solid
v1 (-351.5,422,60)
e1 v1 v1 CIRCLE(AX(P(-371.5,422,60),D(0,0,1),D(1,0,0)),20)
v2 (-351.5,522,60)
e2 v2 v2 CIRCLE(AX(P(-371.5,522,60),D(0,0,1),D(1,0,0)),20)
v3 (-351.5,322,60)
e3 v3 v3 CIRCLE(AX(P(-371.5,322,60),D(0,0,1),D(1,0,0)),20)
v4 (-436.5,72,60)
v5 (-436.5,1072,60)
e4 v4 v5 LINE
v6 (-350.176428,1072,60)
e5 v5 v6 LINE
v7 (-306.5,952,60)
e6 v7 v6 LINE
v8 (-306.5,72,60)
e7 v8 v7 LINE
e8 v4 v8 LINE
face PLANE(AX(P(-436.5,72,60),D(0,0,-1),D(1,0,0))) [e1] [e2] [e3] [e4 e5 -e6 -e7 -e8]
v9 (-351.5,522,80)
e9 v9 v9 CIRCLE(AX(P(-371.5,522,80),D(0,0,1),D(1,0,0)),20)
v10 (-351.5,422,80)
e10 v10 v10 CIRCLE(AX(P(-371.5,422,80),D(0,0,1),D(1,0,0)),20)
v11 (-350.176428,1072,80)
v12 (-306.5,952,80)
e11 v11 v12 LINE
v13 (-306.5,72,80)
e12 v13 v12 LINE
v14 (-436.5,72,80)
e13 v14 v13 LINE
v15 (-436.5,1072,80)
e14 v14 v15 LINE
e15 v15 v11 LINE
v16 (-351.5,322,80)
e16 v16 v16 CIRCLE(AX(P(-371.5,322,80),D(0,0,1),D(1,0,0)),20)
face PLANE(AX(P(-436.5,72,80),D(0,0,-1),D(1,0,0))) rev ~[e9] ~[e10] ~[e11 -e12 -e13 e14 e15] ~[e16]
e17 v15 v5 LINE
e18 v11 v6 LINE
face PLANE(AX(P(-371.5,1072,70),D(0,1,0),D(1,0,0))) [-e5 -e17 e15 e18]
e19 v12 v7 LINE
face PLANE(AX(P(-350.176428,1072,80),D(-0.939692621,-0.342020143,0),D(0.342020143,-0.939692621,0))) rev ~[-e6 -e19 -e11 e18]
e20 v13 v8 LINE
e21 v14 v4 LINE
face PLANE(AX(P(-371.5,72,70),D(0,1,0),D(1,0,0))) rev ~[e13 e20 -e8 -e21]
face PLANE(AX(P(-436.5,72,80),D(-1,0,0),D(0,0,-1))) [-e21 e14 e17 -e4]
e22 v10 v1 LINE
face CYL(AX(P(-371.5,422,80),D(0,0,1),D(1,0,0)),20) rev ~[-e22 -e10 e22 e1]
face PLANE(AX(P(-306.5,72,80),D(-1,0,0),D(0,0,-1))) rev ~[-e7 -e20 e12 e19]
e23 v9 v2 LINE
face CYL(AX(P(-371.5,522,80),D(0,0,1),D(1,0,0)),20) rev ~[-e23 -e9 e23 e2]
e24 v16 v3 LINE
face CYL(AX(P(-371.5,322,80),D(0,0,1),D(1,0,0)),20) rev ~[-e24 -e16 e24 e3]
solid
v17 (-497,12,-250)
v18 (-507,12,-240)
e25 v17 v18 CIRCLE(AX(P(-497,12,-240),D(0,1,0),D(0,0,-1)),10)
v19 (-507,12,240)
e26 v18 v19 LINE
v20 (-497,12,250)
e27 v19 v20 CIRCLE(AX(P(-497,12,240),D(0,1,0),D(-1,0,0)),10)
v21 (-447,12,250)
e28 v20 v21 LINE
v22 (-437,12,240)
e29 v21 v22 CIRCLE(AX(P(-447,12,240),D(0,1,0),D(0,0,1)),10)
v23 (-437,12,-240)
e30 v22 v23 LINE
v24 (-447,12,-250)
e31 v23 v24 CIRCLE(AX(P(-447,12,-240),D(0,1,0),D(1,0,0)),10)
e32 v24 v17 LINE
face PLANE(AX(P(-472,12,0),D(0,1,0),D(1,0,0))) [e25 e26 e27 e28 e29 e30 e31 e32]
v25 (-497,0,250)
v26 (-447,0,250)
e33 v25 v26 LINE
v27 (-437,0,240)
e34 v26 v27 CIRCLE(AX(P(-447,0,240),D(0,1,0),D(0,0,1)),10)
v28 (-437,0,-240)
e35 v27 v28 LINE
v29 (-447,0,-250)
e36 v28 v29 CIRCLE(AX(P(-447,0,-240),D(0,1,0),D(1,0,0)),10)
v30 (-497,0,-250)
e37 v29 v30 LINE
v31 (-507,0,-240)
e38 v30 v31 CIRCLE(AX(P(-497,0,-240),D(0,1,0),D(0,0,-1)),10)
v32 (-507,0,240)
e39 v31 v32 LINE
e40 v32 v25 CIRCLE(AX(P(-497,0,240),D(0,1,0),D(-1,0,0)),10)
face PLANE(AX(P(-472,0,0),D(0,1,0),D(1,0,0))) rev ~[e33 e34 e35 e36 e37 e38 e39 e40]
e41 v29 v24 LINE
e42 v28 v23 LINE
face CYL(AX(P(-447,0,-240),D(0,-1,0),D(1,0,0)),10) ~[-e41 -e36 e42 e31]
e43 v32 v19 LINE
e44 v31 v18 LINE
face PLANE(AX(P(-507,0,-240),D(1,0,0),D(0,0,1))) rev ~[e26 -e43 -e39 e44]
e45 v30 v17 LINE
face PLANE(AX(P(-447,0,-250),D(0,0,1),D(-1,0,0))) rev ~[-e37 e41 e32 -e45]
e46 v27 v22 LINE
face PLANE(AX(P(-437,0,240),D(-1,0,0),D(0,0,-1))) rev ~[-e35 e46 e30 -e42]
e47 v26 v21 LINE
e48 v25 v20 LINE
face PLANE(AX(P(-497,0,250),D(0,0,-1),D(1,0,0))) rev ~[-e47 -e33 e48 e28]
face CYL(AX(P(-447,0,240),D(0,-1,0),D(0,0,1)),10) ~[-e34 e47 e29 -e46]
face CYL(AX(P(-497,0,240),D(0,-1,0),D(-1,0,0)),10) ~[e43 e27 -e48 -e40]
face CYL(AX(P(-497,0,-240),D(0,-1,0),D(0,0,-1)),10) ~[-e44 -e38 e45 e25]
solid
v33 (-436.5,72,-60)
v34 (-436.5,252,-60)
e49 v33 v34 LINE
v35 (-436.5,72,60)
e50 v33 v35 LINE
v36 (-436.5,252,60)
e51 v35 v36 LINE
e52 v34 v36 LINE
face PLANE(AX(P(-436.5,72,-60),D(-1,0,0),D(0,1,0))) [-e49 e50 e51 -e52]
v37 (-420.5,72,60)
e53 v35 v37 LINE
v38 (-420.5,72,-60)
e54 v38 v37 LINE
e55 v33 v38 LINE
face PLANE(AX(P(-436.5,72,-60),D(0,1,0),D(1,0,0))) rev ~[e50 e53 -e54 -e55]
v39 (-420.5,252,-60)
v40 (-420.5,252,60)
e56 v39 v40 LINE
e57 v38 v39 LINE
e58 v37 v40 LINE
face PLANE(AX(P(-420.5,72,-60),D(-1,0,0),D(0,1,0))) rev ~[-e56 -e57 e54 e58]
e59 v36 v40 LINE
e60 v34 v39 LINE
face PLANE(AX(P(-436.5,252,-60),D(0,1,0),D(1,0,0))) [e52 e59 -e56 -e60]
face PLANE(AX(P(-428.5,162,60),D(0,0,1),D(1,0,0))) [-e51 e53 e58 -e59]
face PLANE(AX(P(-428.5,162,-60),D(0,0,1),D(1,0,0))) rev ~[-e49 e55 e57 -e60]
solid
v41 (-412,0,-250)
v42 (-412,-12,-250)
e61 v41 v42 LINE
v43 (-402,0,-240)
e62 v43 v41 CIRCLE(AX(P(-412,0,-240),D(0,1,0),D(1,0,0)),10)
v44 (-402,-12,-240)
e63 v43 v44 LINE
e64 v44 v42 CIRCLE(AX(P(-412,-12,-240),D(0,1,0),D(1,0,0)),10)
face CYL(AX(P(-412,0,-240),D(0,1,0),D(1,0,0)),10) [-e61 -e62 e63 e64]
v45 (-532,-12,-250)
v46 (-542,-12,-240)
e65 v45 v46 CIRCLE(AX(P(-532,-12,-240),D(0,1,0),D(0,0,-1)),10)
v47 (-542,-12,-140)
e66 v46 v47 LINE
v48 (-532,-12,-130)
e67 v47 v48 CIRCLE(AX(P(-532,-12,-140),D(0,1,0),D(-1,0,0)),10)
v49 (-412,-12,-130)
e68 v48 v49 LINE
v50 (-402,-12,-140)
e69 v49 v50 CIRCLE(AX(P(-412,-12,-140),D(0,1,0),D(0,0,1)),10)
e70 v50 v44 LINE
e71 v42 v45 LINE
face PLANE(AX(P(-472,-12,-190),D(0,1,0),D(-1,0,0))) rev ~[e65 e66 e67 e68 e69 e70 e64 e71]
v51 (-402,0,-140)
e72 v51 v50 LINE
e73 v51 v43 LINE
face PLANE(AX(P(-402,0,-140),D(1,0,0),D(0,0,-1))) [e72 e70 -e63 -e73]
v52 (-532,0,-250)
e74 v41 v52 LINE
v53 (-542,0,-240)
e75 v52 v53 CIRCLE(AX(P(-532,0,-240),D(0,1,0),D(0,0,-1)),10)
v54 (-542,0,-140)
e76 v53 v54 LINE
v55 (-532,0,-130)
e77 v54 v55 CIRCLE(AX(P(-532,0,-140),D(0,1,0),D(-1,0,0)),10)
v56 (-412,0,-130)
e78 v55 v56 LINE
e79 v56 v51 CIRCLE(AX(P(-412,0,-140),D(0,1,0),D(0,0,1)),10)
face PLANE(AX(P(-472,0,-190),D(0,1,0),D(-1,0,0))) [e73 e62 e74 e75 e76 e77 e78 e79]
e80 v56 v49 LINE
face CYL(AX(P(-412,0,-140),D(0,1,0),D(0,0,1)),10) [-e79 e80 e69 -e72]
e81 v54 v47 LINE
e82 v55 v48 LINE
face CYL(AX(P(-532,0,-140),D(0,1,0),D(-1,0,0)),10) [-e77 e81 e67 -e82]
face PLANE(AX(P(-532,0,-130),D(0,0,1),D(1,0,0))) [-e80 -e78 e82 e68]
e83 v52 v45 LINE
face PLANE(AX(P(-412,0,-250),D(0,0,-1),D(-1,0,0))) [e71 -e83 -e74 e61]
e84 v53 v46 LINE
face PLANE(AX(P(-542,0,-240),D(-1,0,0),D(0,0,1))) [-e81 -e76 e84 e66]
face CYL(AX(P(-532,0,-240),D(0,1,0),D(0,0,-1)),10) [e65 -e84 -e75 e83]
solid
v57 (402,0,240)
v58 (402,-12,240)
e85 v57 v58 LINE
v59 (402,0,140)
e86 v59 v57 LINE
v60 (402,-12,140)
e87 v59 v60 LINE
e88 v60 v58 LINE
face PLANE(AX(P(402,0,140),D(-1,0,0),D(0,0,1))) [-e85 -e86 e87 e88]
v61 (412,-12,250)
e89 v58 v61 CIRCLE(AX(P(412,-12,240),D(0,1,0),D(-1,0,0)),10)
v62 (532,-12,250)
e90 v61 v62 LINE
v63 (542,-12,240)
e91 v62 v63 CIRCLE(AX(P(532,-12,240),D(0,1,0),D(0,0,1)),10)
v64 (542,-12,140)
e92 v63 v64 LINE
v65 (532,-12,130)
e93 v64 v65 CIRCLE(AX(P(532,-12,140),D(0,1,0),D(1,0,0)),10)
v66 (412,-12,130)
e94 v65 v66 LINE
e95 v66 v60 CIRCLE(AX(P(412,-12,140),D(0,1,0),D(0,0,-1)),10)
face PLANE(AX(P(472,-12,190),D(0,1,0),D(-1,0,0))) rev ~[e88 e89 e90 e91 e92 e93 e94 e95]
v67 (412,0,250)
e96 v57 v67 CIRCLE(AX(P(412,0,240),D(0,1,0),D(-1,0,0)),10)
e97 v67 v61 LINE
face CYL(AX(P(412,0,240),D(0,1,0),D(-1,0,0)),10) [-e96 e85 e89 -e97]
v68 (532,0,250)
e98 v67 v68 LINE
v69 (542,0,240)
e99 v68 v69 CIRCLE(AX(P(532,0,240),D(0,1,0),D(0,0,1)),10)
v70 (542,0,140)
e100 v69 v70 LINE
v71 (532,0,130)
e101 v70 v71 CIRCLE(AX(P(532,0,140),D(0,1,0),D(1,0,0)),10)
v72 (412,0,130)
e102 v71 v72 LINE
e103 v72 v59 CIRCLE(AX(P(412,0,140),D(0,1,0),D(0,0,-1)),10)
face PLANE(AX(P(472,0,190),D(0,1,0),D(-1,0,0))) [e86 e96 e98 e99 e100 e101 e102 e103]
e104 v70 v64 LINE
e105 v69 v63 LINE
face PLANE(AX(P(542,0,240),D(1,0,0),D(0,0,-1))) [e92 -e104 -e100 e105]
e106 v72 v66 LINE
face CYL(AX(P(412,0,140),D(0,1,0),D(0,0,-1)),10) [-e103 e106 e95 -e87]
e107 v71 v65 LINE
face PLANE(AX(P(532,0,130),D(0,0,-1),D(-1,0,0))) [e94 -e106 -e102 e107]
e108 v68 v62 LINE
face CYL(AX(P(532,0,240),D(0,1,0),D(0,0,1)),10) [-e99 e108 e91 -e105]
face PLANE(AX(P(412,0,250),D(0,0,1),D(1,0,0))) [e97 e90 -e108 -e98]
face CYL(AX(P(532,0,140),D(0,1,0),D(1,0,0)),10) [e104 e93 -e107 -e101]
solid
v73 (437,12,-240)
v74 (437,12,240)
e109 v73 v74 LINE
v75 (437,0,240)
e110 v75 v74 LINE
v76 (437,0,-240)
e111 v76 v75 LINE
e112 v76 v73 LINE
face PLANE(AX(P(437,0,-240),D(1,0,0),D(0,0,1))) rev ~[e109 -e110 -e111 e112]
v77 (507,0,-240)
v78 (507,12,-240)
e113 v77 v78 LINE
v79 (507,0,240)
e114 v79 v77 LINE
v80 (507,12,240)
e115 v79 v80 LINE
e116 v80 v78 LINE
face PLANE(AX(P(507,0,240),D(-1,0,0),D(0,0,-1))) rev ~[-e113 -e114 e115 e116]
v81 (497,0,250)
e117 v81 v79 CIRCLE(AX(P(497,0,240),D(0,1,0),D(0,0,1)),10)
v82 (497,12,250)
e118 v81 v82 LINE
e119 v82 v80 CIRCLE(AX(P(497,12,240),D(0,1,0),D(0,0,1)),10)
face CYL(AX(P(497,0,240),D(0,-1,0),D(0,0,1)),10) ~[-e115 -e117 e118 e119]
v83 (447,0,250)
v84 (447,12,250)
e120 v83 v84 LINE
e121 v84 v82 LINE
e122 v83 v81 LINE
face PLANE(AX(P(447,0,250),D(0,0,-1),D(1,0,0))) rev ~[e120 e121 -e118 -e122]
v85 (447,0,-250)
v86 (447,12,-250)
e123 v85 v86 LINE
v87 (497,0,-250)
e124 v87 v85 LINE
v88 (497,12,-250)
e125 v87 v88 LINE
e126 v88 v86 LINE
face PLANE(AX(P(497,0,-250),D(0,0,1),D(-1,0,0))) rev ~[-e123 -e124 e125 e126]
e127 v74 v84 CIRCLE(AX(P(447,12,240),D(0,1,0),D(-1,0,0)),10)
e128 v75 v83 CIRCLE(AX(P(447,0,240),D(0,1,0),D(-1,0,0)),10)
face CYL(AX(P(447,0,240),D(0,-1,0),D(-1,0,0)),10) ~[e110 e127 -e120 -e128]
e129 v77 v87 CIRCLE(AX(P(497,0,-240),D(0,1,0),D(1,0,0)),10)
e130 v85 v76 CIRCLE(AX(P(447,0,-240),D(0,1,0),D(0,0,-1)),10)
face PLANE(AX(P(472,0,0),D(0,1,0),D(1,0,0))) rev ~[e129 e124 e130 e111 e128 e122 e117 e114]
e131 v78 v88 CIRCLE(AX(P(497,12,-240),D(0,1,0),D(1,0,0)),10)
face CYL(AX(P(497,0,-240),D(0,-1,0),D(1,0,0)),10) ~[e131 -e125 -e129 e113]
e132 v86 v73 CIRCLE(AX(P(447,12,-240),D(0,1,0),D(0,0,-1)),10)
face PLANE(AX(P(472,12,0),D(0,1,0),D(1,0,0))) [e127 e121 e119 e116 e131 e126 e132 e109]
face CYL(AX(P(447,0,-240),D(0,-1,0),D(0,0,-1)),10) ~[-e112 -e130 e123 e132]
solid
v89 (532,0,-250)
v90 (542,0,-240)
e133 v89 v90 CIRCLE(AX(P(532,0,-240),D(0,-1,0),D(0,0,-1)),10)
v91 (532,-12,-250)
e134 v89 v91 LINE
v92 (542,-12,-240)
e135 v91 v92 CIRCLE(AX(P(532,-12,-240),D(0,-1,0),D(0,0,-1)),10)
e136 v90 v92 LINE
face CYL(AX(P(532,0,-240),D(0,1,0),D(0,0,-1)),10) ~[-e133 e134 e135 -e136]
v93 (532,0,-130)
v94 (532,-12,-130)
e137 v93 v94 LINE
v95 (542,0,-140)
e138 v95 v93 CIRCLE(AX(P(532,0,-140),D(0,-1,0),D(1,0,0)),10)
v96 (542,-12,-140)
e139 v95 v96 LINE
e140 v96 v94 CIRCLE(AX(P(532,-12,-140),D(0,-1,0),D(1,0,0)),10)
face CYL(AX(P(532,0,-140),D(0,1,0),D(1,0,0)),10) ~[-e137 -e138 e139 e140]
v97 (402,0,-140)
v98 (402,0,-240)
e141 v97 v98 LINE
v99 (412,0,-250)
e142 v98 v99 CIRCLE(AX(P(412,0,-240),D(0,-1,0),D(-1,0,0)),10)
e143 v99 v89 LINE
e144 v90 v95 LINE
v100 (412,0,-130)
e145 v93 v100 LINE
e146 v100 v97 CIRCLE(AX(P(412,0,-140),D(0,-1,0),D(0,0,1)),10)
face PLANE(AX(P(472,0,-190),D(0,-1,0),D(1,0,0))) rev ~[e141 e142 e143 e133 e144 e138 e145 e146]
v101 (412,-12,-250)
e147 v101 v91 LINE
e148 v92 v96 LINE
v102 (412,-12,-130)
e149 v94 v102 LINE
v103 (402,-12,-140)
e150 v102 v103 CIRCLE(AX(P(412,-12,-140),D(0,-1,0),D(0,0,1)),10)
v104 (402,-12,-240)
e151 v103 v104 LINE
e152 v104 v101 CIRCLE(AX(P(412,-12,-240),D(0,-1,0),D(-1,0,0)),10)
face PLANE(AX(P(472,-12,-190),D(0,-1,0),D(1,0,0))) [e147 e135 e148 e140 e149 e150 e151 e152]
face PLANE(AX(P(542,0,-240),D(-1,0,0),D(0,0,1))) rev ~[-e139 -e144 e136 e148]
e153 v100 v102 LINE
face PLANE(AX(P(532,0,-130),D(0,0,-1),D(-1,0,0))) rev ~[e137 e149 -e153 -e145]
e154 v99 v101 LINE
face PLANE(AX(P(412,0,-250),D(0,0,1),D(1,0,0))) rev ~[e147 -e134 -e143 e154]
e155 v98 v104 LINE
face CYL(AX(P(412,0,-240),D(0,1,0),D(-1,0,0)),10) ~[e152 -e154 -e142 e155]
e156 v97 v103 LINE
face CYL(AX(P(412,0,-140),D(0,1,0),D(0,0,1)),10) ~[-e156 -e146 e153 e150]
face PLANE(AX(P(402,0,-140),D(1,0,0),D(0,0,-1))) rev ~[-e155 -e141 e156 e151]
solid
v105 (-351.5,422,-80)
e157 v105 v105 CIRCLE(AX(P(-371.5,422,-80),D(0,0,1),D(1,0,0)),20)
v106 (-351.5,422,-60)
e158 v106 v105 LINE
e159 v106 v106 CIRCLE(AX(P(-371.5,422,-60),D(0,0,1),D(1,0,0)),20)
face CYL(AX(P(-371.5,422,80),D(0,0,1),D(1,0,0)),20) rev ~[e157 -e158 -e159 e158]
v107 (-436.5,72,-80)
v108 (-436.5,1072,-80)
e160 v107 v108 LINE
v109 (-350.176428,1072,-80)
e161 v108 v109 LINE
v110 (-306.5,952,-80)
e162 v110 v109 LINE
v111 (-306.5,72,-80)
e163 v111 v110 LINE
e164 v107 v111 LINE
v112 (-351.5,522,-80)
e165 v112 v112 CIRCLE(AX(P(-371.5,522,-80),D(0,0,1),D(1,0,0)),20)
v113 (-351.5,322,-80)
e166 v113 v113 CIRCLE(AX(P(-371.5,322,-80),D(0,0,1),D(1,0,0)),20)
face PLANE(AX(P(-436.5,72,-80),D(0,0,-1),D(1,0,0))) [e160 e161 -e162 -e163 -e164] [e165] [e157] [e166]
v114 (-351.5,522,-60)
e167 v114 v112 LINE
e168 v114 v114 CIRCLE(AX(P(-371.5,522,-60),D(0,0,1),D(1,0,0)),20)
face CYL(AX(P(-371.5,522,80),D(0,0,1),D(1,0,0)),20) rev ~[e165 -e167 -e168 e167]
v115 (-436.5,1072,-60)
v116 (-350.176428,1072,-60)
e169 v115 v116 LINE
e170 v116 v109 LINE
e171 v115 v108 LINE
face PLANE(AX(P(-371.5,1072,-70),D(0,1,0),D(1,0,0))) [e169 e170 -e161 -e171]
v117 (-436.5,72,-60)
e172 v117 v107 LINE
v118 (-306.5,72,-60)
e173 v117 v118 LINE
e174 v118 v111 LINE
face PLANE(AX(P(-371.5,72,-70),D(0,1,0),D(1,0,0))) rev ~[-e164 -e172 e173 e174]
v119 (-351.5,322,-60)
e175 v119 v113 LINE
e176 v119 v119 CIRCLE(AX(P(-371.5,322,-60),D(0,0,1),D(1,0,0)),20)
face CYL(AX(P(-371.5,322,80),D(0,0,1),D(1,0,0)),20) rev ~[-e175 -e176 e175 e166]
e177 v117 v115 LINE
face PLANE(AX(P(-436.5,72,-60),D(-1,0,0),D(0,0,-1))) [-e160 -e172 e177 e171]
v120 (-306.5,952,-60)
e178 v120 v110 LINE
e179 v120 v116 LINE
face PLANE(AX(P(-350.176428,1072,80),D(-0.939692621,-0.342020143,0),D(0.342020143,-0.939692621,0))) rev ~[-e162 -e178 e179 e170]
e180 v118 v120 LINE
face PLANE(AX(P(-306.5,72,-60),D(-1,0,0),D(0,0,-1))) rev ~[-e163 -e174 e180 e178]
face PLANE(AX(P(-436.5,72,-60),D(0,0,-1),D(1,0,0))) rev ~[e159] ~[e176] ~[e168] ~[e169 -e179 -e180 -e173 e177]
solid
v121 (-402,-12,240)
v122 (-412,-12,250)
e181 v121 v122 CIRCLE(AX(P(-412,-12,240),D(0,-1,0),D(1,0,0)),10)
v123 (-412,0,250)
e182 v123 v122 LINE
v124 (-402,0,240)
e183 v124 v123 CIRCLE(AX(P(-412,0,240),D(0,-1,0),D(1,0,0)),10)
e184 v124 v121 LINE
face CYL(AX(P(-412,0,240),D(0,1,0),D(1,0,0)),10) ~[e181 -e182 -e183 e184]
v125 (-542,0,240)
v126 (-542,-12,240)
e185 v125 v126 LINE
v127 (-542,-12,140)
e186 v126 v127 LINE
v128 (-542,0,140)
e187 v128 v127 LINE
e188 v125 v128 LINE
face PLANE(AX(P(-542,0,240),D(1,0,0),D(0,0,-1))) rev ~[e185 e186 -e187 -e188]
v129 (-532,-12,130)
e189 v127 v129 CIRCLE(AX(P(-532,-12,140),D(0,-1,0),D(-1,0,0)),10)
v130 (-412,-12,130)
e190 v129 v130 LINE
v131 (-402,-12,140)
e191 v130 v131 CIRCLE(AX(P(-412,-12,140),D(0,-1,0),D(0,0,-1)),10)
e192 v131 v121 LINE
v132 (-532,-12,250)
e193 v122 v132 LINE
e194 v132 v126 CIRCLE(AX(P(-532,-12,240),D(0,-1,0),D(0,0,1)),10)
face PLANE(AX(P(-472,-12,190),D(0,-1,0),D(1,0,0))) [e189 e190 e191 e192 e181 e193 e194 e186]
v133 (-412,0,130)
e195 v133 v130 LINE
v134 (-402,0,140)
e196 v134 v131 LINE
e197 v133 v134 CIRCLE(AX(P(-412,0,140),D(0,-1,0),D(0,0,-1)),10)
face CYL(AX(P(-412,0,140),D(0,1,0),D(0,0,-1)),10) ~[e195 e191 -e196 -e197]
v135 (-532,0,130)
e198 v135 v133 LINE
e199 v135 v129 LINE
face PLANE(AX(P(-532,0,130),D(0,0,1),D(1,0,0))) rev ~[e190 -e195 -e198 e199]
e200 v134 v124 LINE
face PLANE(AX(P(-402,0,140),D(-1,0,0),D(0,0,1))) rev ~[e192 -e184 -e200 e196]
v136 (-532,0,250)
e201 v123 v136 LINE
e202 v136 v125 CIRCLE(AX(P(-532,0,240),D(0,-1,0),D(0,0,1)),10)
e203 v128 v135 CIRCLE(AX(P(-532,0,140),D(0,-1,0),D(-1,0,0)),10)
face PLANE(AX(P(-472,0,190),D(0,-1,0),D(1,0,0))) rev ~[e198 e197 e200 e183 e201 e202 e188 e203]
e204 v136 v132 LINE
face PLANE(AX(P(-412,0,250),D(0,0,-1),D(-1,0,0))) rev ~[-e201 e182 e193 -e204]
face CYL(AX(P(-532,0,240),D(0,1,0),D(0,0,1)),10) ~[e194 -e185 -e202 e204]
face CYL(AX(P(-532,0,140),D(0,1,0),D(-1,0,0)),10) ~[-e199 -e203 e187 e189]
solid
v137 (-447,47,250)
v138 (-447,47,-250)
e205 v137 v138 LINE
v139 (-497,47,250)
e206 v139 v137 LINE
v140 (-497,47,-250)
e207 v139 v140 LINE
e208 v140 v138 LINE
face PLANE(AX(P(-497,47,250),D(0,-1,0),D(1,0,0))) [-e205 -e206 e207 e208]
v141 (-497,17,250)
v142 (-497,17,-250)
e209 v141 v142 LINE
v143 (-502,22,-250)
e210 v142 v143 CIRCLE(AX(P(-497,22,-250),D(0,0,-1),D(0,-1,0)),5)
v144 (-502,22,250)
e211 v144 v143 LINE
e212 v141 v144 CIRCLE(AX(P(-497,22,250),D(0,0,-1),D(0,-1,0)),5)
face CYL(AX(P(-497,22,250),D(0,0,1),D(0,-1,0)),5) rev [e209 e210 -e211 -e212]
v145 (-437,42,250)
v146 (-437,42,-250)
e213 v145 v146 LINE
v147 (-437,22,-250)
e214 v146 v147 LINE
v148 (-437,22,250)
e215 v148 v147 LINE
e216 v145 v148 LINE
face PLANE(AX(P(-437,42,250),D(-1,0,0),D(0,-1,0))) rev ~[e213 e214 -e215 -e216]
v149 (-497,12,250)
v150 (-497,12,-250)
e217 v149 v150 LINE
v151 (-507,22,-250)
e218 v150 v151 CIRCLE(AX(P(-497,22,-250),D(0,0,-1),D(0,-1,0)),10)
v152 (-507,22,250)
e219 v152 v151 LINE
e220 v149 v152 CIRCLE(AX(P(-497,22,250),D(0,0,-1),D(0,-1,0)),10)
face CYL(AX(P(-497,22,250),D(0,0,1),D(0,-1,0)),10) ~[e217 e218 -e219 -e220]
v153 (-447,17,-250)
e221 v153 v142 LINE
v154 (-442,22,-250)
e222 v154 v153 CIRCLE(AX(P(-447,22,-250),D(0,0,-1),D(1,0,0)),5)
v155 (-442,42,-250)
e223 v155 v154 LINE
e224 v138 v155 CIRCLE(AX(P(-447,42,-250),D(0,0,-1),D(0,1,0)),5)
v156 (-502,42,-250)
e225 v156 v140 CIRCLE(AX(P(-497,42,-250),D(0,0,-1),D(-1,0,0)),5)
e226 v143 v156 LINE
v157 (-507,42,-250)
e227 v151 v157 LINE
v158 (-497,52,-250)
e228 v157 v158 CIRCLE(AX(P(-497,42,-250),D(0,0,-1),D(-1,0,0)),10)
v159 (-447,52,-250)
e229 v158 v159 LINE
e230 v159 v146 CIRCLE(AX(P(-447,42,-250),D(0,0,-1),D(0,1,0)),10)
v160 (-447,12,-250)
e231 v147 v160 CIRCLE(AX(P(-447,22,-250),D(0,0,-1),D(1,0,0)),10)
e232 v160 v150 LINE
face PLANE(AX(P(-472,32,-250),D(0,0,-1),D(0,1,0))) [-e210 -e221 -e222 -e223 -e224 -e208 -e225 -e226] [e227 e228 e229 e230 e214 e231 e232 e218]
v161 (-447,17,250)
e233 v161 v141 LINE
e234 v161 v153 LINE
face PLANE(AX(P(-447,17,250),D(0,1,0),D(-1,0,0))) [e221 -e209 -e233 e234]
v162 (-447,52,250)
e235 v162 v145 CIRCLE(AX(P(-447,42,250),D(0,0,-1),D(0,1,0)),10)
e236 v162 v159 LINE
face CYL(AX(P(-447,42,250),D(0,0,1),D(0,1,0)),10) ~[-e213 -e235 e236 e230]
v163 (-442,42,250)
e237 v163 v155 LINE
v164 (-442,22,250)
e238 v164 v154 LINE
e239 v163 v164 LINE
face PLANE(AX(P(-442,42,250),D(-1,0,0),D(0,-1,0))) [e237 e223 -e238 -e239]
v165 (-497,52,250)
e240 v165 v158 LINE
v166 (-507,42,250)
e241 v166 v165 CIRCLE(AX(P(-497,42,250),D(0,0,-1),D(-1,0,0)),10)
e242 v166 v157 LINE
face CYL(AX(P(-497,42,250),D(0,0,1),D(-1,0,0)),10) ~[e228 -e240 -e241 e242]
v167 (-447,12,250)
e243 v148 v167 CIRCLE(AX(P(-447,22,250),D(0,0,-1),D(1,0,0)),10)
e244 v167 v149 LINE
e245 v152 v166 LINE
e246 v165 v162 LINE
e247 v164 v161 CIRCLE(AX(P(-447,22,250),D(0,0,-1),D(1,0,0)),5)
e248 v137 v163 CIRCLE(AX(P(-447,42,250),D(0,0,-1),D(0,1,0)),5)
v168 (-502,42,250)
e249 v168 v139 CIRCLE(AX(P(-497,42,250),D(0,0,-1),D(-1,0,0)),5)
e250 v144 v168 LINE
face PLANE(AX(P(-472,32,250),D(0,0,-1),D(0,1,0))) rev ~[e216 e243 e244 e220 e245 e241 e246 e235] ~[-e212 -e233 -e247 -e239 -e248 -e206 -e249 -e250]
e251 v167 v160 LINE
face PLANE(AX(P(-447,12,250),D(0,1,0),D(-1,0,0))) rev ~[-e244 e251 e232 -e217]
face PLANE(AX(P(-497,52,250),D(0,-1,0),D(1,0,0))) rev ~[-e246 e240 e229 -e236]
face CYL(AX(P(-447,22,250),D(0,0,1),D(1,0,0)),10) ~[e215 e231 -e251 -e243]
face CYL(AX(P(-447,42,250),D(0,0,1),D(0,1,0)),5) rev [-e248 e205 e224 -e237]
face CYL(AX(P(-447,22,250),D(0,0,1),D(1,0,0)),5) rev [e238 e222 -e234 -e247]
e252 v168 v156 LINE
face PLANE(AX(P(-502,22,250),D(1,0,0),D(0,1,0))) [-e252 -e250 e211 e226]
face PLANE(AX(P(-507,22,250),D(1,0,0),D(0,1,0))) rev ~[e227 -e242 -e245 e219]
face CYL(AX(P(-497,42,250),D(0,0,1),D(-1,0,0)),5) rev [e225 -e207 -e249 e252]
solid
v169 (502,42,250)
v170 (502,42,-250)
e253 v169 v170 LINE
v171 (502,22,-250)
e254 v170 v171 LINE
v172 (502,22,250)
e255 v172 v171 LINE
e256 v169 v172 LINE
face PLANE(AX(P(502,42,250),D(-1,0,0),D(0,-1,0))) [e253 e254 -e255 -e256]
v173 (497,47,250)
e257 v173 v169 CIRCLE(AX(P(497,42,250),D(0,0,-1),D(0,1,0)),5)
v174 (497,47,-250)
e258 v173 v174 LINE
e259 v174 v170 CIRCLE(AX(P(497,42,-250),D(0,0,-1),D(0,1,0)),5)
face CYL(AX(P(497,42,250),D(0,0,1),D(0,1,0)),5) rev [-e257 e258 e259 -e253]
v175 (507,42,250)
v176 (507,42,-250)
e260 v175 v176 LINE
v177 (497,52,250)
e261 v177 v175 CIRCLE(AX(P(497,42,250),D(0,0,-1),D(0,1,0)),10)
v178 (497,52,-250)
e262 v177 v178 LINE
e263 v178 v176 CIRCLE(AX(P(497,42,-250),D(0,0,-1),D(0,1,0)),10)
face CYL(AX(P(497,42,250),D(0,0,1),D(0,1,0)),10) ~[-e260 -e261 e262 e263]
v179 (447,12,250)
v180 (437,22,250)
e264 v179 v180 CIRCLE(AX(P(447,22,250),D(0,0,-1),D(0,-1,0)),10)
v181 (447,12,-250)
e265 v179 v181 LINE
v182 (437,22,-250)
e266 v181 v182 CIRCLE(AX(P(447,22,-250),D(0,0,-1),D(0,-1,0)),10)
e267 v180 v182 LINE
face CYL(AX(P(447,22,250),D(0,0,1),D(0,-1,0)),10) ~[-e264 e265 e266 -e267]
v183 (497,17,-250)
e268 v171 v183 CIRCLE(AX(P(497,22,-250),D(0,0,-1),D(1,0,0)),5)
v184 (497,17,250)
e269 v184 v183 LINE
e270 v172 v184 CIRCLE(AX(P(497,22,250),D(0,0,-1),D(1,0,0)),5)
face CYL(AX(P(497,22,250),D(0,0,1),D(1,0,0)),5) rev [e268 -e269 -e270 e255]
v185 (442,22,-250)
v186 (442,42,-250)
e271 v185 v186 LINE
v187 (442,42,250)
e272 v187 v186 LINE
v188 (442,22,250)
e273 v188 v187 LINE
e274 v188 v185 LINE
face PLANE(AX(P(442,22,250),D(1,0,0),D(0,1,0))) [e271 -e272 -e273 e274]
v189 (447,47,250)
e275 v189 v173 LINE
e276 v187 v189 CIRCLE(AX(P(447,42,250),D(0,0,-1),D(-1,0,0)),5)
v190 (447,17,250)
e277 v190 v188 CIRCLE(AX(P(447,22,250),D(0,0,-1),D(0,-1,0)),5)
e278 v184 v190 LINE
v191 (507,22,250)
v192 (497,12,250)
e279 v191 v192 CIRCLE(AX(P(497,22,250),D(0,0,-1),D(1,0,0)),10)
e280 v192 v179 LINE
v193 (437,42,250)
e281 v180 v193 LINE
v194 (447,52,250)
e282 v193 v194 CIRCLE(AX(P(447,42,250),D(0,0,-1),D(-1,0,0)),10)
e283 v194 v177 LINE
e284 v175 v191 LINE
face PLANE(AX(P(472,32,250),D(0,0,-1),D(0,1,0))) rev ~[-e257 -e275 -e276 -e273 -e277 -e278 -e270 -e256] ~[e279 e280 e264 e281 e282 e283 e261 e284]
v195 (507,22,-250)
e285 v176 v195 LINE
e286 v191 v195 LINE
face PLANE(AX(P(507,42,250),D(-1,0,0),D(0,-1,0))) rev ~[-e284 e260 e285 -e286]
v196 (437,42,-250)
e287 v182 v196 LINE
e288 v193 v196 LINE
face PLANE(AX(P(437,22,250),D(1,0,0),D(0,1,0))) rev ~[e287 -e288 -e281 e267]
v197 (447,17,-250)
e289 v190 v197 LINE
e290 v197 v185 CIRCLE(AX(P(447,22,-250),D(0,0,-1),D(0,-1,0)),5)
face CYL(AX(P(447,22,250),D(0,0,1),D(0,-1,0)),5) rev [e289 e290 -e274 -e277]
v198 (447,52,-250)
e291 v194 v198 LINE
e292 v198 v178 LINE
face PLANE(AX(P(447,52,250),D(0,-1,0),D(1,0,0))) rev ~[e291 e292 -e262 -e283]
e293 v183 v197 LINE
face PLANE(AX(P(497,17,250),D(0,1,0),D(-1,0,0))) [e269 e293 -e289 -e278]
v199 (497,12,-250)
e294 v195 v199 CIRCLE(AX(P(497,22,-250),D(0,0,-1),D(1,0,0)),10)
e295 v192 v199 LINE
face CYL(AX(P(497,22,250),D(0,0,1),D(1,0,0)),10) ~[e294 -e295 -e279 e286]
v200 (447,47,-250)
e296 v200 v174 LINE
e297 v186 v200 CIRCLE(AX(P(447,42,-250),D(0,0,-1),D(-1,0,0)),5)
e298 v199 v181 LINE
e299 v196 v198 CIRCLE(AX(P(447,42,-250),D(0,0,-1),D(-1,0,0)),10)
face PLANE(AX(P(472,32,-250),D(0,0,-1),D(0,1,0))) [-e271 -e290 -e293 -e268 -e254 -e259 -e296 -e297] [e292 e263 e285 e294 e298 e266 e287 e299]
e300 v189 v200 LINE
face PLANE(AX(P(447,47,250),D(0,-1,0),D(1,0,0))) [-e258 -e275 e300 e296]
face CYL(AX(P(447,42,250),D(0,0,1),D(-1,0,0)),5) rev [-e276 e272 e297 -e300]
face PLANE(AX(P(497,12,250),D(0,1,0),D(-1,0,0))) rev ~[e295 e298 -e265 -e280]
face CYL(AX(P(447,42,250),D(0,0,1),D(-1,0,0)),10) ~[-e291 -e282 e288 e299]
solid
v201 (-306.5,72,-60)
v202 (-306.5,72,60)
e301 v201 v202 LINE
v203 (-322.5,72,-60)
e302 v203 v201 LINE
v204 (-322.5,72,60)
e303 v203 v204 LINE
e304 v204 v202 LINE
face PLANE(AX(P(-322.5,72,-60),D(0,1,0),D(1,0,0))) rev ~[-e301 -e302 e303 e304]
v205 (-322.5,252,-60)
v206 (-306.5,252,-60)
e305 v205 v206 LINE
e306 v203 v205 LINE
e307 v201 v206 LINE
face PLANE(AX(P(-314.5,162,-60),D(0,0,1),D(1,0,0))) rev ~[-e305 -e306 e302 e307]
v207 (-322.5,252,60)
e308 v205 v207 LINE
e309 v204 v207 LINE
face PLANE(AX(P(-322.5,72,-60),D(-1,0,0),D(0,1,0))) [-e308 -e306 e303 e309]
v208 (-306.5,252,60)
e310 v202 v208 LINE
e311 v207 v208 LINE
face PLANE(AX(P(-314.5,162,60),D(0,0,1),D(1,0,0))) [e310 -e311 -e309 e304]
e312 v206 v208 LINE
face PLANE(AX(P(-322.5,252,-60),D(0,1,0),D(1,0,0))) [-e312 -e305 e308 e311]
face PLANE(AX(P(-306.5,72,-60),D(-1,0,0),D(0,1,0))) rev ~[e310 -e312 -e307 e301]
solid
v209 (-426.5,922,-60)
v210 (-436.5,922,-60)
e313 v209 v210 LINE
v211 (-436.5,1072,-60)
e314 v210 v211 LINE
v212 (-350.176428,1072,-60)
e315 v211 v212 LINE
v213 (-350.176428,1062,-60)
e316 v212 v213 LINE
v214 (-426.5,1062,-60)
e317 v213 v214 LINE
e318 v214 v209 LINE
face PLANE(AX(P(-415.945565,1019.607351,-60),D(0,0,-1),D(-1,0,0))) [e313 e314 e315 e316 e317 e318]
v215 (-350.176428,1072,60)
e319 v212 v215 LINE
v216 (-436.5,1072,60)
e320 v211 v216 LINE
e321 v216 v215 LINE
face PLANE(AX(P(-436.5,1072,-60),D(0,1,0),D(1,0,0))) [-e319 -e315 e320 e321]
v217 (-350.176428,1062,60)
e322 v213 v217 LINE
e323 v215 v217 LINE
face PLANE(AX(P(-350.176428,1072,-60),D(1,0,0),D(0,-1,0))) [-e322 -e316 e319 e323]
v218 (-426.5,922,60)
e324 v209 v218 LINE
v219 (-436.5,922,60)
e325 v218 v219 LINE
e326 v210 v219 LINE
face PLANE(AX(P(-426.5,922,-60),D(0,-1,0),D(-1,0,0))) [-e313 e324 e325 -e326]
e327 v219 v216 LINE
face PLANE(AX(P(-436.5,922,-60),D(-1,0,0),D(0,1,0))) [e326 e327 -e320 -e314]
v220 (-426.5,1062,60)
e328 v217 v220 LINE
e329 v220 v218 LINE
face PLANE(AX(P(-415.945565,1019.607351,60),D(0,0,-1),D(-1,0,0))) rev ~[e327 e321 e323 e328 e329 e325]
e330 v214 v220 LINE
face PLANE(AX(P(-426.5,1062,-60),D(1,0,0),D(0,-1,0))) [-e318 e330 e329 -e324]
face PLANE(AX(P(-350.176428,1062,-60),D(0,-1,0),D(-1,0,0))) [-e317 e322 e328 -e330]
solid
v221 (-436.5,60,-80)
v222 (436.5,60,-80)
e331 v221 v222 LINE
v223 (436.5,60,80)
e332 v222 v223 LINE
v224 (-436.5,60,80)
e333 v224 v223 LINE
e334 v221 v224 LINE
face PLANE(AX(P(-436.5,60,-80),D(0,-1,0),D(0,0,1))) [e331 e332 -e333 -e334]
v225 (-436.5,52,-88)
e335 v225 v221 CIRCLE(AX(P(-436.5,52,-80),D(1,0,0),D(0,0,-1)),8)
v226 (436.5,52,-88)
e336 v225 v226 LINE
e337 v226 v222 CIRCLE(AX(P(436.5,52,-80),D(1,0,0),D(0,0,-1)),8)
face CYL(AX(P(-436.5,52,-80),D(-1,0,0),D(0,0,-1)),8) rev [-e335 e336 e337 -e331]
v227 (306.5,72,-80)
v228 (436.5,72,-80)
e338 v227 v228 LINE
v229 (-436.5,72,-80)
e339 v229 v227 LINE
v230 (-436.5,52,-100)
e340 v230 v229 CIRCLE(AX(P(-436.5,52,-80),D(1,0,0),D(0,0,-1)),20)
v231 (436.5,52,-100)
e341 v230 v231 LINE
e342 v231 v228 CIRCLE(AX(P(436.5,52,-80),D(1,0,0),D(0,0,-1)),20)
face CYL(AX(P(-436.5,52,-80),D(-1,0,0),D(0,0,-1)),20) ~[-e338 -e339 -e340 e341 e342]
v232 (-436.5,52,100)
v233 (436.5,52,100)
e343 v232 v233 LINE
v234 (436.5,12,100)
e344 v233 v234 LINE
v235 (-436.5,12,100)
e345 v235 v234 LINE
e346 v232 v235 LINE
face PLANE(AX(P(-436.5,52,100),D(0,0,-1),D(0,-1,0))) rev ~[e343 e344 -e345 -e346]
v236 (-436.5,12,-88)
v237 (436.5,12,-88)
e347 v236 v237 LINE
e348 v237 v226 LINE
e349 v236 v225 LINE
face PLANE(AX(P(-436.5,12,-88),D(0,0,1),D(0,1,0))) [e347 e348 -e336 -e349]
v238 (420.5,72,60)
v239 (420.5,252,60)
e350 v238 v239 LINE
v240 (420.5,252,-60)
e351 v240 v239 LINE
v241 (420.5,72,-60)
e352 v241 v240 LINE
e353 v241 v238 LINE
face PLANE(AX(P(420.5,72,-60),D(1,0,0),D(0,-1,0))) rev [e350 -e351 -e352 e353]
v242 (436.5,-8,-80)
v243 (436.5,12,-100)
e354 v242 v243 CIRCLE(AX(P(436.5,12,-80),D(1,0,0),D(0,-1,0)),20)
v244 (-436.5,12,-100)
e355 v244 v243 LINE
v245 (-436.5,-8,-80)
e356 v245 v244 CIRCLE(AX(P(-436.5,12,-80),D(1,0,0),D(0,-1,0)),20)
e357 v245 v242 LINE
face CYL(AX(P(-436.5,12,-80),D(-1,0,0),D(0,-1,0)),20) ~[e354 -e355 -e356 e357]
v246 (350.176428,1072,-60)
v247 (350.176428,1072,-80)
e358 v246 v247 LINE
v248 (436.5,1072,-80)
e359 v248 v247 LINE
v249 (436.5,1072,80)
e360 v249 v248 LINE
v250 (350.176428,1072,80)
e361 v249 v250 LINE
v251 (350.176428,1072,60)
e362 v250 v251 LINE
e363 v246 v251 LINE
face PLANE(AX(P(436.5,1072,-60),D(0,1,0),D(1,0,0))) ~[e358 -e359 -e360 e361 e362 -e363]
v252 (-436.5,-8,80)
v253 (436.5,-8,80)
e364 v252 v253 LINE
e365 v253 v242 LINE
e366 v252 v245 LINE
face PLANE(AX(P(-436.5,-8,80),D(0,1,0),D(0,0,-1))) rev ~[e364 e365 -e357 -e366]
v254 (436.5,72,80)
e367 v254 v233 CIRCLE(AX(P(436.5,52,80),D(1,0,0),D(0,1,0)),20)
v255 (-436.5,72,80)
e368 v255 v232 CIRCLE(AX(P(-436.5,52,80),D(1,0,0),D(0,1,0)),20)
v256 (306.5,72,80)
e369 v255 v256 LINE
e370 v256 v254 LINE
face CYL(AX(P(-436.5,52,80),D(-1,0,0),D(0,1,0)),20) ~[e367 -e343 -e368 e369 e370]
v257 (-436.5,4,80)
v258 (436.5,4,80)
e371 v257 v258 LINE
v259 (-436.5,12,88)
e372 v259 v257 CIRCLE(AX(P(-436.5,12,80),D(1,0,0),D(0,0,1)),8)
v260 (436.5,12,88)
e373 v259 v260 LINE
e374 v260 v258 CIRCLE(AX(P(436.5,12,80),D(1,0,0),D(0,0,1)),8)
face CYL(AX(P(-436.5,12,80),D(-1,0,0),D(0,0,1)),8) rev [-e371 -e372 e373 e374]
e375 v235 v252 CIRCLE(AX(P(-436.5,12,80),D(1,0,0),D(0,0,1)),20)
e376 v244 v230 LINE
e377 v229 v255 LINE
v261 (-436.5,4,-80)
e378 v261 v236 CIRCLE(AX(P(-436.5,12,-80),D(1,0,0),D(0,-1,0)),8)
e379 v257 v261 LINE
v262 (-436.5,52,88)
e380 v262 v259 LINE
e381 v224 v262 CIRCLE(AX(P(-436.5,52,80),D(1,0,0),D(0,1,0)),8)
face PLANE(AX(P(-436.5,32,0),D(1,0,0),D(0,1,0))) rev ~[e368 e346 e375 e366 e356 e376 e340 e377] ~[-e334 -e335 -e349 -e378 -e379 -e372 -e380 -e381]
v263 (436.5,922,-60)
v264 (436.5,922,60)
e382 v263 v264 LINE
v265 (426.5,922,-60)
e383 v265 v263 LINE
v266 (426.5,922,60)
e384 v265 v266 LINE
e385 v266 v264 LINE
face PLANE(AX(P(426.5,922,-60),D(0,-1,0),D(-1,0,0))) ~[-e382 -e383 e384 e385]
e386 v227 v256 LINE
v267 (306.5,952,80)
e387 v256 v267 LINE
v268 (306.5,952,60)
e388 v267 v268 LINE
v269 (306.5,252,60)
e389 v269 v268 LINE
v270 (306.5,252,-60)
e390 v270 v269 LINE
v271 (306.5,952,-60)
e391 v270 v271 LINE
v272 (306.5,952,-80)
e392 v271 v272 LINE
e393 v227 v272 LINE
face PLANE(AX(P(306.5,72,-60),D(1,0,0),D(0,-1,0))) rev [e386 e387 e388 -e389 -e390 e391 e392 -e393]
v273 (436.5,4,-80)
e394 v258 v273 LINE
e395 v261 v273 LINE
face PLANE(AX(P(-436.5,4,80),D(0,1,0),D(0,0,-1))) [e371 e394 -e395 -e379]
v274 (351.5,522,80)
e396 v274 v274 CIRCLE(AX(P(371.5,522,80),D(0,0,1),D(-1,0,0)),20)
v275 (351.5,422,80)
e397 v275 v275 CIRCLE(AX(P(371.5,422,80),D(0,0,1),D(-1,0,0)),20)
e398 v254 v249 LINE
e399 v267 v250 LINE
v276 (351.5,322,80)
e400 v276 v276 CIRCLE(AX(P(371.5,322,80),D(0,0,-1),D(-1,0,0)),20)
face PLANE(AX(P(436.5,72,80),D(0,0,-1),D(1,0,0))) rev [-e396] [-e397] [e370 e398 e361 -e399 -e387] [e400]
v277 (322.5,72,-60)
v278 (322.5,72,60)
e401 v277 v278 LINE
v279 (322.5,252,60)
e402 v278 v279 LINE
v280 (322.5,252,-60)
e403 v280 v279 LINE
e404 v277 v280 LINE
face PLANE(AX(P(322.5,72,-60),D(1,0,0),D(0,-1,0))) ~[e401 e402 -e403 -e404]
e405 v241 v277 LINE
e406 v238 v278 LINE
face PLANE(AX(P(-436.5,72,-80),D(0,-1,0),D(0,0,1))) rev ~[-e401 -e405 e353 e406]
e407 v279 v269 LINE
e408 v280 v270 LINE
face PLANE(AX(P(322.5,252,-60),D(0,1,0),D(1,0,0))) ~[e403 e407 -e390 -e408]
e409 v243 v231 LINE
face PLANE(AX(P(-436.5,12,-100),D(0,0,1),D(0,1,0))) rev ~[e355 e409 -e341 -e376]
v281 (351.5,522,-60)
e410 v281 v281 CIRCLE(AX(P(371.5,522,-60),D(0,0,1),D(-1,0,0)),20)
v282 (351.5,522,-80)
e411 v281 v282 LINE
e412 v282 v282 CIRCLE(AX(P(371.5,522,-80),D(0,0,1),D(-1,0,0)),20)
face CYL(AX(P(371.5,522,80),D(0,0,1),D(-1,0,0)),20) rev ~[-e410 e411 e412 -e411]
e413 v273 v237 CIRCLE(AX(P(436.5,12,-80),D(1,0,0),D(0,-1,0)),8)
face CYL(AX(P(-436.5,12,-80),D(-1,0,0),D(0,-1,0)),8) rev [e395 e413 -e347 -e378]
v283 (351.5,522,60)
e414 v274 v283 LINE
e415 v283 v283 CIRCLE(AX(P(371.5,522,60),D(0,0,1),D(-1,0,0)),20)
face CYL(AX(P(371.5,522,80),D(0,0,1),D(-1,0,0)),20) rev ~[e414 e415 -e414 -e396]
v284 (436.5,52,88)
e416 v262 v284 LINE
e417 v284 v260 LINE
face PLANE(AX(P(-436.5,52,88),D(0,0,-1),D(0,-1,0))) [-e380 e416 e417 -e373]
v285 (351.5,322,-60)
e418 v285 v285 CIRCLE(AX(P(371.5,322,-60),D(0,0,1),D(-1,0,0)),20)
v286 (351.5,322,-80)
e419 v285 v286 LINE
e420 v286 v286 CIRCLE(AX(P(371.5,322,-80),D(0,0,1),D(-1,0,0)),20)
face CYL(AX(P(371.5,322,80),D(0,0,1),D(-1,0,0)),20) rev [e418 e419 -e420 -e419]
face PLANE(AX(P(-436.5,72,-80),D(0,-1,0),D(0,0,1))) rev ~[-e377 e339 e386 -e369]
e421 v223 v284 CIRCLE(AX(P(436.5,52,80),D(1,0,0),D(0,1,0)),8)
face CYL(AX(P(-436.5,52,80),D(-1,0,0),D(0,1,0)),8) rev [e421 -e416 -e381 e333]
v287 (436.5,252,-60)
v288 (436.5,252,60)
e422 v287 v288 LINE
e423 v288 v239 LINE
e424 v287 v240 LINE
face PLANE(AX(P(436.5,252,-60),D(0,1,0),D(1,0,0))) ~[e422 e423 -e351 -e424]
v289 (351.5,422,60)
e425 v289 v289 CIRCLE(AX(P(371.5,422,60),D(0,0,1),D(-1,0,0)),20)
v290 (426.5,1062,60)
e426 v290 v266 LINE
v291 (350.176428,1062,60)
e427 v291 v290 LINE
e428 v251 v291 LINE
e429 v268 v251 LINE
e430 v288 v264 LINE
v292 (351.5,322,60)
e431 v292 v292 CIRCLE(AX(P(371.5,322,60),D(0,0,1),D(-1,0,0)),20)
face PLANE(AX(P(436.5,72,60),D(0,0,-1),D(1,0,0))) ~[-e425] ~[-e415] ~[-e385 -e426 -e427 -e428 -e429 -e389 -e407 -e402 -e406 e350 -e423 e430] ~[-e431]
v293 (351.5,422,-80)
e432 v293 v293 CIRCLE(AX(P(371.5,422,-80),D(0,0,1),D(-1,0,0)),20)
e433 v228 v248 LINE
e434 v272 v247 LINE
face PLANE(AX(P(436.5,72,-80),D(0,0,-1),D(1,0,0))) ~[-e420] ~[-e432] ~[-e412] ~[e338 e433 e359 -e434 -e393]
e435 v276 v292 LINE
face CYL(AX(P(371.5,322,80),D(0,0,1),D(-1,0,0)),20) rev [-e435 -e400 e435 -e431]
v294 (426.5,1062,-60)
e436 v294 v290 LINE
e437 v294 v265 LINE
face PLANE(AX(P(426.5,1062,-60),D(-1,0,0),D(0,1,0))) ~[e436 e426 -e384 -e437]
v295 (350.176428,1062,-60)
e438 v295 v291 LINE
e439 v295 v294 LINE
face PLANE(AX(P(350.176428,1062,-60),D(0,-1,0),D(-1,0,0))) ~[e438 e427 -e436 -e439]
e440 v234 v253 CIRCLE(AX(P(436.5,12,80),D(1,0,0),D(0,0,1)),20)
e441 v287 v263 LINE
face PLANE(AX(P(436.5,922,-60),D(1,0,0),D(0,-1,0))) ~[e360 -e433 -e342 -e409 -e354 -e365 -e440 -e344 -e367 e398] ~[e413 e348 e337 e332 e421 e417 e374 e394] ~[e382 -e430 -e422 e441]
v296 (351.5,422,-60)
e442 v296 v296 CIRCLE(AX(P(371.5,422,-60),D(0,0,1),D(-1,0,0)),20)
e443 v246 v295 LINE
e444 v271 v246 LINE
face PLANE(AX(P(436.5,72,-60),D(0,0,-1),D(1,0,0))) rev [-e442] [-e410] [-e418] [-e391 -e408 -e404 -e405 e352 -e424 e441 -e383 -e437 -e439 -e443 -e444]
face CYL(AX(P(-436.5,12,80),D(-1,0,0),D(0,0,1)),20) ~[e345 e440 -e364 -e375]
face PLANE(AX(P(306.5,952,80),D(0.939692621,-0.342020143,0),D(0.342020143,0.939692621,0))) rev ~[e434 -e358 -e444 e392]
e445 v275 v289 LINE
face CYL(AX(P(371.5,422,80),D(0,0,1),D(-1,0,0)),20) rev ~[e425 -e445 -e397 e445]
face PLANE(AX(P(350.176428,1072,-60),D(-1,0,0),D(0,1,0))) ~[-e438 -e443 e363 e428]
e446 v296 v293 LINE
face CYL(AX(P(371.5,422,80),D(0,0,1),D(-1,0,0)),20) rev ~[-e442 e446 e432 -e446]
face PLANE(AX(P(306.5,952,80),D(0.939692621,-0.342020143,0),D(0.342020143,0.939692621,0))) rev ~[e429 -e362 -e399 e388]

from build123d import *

# Parameters (mm, degrees)
BOSS_EXTRUDE1_DEPTH                    = 12
BOSS_EXTRUDE1_2_DEPTH                  = 12
RECTANGULAR_TUBE_70_X_40_X_5_1_DEPTH   = 500
RECTANGULAR_TUBE_70_X_40_X_5_1_2_DEPTH = 500
RECTANGULAR_TUBE_120_X_80_X_8_1_DEPTH  = 873
BOSS_EXTRUDE2_DEPTH                    = 12
BOSS_EXTRUDE2_2_DEPTH                  = 12
BOSS_EXTRUDE2_3_DEPTH                  = 12
BOSS_EXTRUDE2_4_DEPTH                  = 12
SKETCH18_W                             = 130
SKETCH18_H                             = 20
BOSS_EXTRUDE3_DEPTH                    = 1000
BOSS_EXTRUDE3_2_DEPTH                  = 1000
SKETCH19_W                             = 16
SKETCH19_H                             = 180
BOSS_EXTRUDE4_DEPTH                    = 120
BOSS_EXTRUDE4_2_DEPTH                  = 120
CUT_EXTRUDE1_DEPTH                     = 1200
SKETCH21_R                             = 20
CUT_EXTRUDE2_DEPTH                     = 1200
LPATTERN1_COUNT                        = 3
LPATTERN1_PITCH                        = 100
MIRROR2_COPY_1_SKETCH_R                = 20
MIRROR2_COPY_1_DEPTH                   = 1200
MIRROR2_COPY_2_SKETCH_R                = 20
MIRROR2_COPY_2_DEPTH                   = 1200
BOSS_EXTRUDE5_DEPTH                    = 120


with BuildPart() as part:
    # Sketch1 → Boss-Extrude1 (new body)
    with BuildSketch(Plane(origin=(0, 0, 0), x_dir=(1, 0, 0), z_dir=(0, 1, 0))):
        with BuildLine():
            Line((-497, -250), (-447, -250))
            ThreePointArc((-447, -250), (-439.928932188, -247.071067812), (-437, -240))
            Line((-437, -240), (-437, 240))
            ThreePointArc((-437, 240), (-439.928932188, 247.071067812), (-447, 250))
            Line((-447, 250), (-497, 250))
            ThreePointArc((-497, 250), (-504.071067812, 247.071067812), (-507, 240))
            Line((-507, 240), (-507, -240))
            ThreePointArc((-507, -240), (-504.071067812, -247.071067812), (-497, -250))
        make_face()
    extrude(amount=BOSS_EXTRUDE1_DEPTH)


with BuildPart() as body_2:
    # Sketch1 → Boss-Extrude1 2 (new body)
    with BuildSketch(Plane(origin=(0, 0, 0), x_dir=(1, 0, 0), z_dir=(0, 1, 0))):
        with BuildLine():
            Line((447, -250), (497, -250))
            ThreePointArc((497, -250), (504.071067812, -247.071067812), (507, -240))
            Line((507, -240), (507, 240))
            ThreePointArc((507, 240), (504.071067812, 247.071067812), (497, 250))
            Line((497, 250), (447, 250))
            ThreePointArc((447, 250), (439.928932188, 247.071067812), (437, 240))
            Line((437, 240), (437, -240))
            ThreePointArc((437, -240), (439.928932188, -247.071067812), (447, -250))
        make_face()
    extrude(amount=BOSS_EXTRUDE1_2_DEPTH)


with BuildPart() as body_3:
    # Sketch11 → Rectangular tube 70 X 40 X 5(1) (new body)
    with BuildSketch(Plane(origin=(472, 32, 250), x_dir=(0, 1, 0), z_dir=(0, 0, -1))):
        with BuildLine():
            Line((-10, -35), (10, -35))
            ThreePointArc((10, -35), (17.071067812, -32.071067812), (20, -25))
            Line((20, -25), (20, 25))
            ThreePointArc((20, 25), (17.071067812, 32.071067812), (10, 35))
            Line((10, 35), (-10, 35))
            ThreePointArc((-10, 35), (-17.071067812, 32.071067812), (-20, 25))
            Line((-20, 25), (-20, -25))
            ThreePointArc((-20, -25), (-17.071067812, -32.071067812), (-10, -35))
        make_face()
        with BuildLine():
            Line((-10, -30), (10, -30))
            ThreePointArc((10, -30), (13.535533906, -28.535533906), (15, -25))
            Line((15, -25), (15, 25))
            ThreePointArc((15, 25), (13.535533906, 28.535533906), (10, 30))
            Line((10, 30), (-10, 30))
            ThreePointArc((-10, 30), (-13.535533906, 28.535533906), (-15, 25))
            Line((-15, 25), (-15, -25))
            ThreePointArc((-15, -25), (-13.535533906, -28.535533906), (-10, -30))
        make_face(mode=Mode.SUBTRACT)
    extrude(amount=RECTANGULAR_TUBE_70_X_40_X_5_1_DEPTH)


with BuildPart() as body_4:
    # Sketch11 on segment 2 (carried to segment 2) → Rectangular tube 70 X 40 X 5_1 2 (new body)
    with BuildSketch(Plane(origin=(-472, 32, 250), x_dir=(0, 1, 0), z_dir=(0, 0, -1))):
        with BuildLine():
            Line((-10, -35), (10, -35))
            ThreePointArc((10, -35), (17.071067812, -32.071067812), (20, -25))
            Line((20, -25), (20, 25))
            ThreePointArc((20, 25), (17.071067812, 32.071067812), (10, 35))
            Line((10, 35), (-10, 35))
            ThreePointArc((-10, 35), (-17.071067812, 32.071067812), (-20, 25))
            Line((-20, 25), (-20, -25))
            ThreePointArc((-20, -25), (-17.071067812, -32.071067812), (-10, -35))
        make_face()
        with BuildLine():
            Line((-10, -30), (10, -30))
            ThreePointArc((10, -30), (13.535533906, -28.535533906), (15, -25))
            Line((15, -25), (15, 25))
            ThreePointArc((15, 25), (13.535533906, 28.535533906), (10, 30))
            Line((10, 30), (-10, 30))
            ThreePointArc((-10, 30), (-13.535533906, 28.535533906), (-15, 25))
            Line((-15, 25), (-15, -25))
            ThreePointArc((-15, -25), (-13.535533906, -28.535533906), (-10, -30))
        make_face(mode=Mode.SUBTRACT)
    extrude(amount=RECTANGULAR_TUBE_70_X_40_X_5_1_2_DEPTH)


with BuildPart() as body_5:
    # Sketch12 → Rectangular tube 120 X 80 X 8(1) (new body)
    with BuildSketch(Plane(origin=(-436.5, 32, 0), x_dir=(0, 1, 0), z_dir=(1, 0, 0))):
        with BuildLine():
            Line((-20, -100), (20, -100))
            ThreePointArc((20, -100), (34.142135624, -94.142135624), (40, -80))
            Line((40, -80), (40, 80))
            ThreePointArc((40, 80), (34.142135624, 94.142135624), (20, 100))
            Line((20, 100), (-20, 100))
            ThreePointArc((-20, 100), (-34.142135624, 94.142135624), (-40, 80))
            Line((-40, 80), (-40, -80))
            ThreePointArc((-40, -80), (-34.142135624, -94.142135624), (-20, -100))
        make_face()
        with BuildLine():
            Line((-20, -88), (20, -88))
            ThreePointArc((20, -88), (25.656854249, -85.656854249), (28, -80))
            Line((28, -80), (28, 80))
            ThreePointArc((28, 80), (25.656854249, 85.656854249), (20, 88))
            Line((20, 88), (-20, 88))
            ThreePointArc((-20, 88), (-25.656854249, 85.656854249), (-28, 80))
            Line((-28, 80), (-28, -80))
            ThreePointArc((-28, -80), (-25.656854249, -85.656854249), (-20, -88))
        make_face(mode=Mode.SUBTRACT)
    extrude(amount=RECTANGULAR_TUBE_120_X_80_X_8_1_DEPTH)


with BuildPart() as body_6:
    # Sketch17 → Boss-Extrude2 (new body)
    with BuildSketch(Plane.XZ):
        with BuildLine():
            Line((412, 250), (532, 250))
            ThreePointArc((532, 250), (539.071067812, 247.071067812), (542, 240))
            Line((542, 240), (542, 140))
            ThreePointArc((542, 140), (539.071067812, 132.928932188), (532, 130))
            Line((532, 130), (412, 130))
            ThreePointArc((412, 130), (404.928932188, 132.928932188), (402, 140))
            Line((402, 140), (402, 240))
            ThreePointArc((402, 240), (404.928932188, 247.071067812), (412, 250))
        make_face()
    extrude(amount=BOSS_EXTRUDE2_DEPTH)


with BuildPart() as body_7:
    # Sketch17 → Boss-Extrude2 2 (new body)
    with BuildSketch(Plane.XZ):
        with BuildLine():
            Line((-542, 240), (-542, 140))
            ThreePointArc((-542, 140), (-539.071067812, 132.928932188), (-532, 130))
            Line((-532, 130), (-412, 130))
            ThreePointArc((-412, 130), (-404.928932188, 132.928932188), (-402, 140))
            Line((-402, 140), (-402, 240))
            ThreePointArc((-402, 240), (-404.928932188, 247.071067812), (-412, 250))
            Line((-412, 250), (-532, 250))
            ThreePointArc((-532, 250), (-539.071067812, 247.071067812), (-542, 240))
        make_face()
    extrude(amount=BOSS_EXTRUDE2_2_DEPTH)


with BuildPart() as body_8:
    # Sketch17 → Boss-Extrude2 3 (new body)
    with BuildSketch(Plane.XZ):
        with BuildLine():
            Line((542, -240), (542, -140))
            ThreePointArc((542, -140), (539.071067812, -132.928932188), (532, -130))
            Line((532, -130), (412, -130))
            ThreePointArc((412, -130), (404.928932188, -132.928932188), (402, -140))
            Line((402, -140), (402, -240))
            ThreePointArc((402, -240), (404.928932188, -247.071067812), (412, -250))
            Line((412, -250), (532, -250))
            ThreePointArc((532, -250), (539.071067812, -247.071067812), (542, -240))
        make_face()
    extrude(amount=BOSS_EXTRUDE2_3_DEPTH)


with BuildPart() as body_9:
    # Sketch17 → Boss-Extrude2 4 (new body)
    with BuildSketch(Plane.XZ):
        with BuildLine():
            Line((-412, -250), (-532, -250))
            ThreePointArc((-532, -250), (-539.071067812, -247.071067812), (-542, -240))
            Line((-542, -240), (-542, -140))
            ThreePointArc((-542, -140), (-539.071067812, -132.928932188), (-532, -130))
            Line((-532, -130), (-412, -130))
            ThreePointArc((-412, -130), (-404.928932188, -132.928932188), (-402, -140))
            Line((-402, -140), (-402, -240))
            ThreePointArc((-402, -240), (-404.928932188, -247.071067812), (-412, -250))
        make_face()
    extrude(amount=BOSS_EXTRUDE2_4_DEPTH)


with BuildPart() as body_10:
    # Sketch18 → Boss-Extrude3 (new body)
    with BuildSketch(Plane(origin=(0, 72, 0), x_dir=(1, 0, 0), z_dir=(0, 1, 0))):
        with Locations((-371.5, -70)):
            Rectangle(SKETCH18_W, SKETCH18_H)
    boss_extrude3 = extrude(amount=BOSS_EXTRUDE3_DEPTH)


with BuildPart() as body_11:
    # Sketch18 → Boss-Extrude3 2 (new body)
    with BuildSketch(Plane(origin=(0, 72, 0), x_dir=(1, 0, 0), z_dir=(0, 1, 0))):
        with Locations((-371.5, 70)):
            Rectangle(SKETCH18_W, SKETCH18_H)
    boss_extrude3_2 = extrude(amount=BOSS_EXTRUDE3_2_DEPTH)


with BuildPart() as body_12:
    # Sketch19 → Boss-Extrude4 (new body)
    with BuildSketch(Plane.XY.offset(-60)):
        with Locations((-428.5, 162)):
            Rectangle(SKETCH19_W, SKETCH19_H)
    boss_extrude4 = extrude(amount=BOSS_EXTRUDE4_DEPTH)


with BuildPart() as body_13:
    # Sketch19 → Boss-Extrude4 2 (new body)
    with BuildSketch(Plane.XY.offset(-60)):
        with Locations((-314.5, 162)):
            Rectangle(SKETCH19_W, SKETCH19_H)
    boss_extrude4_2 = extrude(amount=BOSS_EXTRUDE4_2_DEPTH)


with BuildPart() as body_5_1:
    add(body_5.part)

    # Mirror1: Boss-Extrude3, Boss-Extrude3 2, Boss-Extrude4, Boss-Extrude4 2 across plane
    add(boss_extrude3.mirror(Plane(origin=(0, 0, 0), x_dir=(0, 0, 1), z_dir=(1, 0, 0))))
    add(boss_extrude3_2.mirror(Plane(origin=(0, 0, 0), x_dir=(0, 0, 1), z_dir=(1, 0, 0))))
    add(boss_extrude4.mirror(Plane(origin=(0, 0, 0), x_dir=(0, 0, 1), z_dir=(1, 0, 0))))
    add(boss_extrude4_2.mirror(Plane(origin=(0, 0, 0), x_dir=(0, 0, 1), z_dir=(1, 0, 0))))


with BuildPart() as cut_extrude1_tool:
    # Sketch20 → Cut-Extrude1 (new body)
    with BuildSketch(Plane.XY.offset(80)):
        Polygon((-306.5, 1072), (-350.176428112, 1072), (-306.5, 952), align=None)
        Polygon((306.5, 1072), (306.5, 952), (350.176428112, 1072), align=None)
    extrude(amount=-CUT_EXTRUDE1_DEPTH)


with BuildPart() as body_5_2:
    add(body_5_1.part)

    # Cut-Extrude1: cut by cut_extrude1_tool
    add(cut_extrude1_tool.part, mode=Mode.SUBTRACT)


with BuildPart() as body_10_1:
    add(body_10.part)

    # Cut-Extrude1: cut by cut_extrude1_tool
    add(cut_extrude1_tool.part, mode=Mode.SUBTRACT)


with BuildPart() as body_11_1:
    add(body_11.part)

    # Cut-Extrude1: cut by cut_extrude1_tool
    add(cut_extrude1_tool.part, mode=Mode.SUBTRACT)


with BuildPart() as cut_extrude2_tool:
    # Sketch21 → Cut-Extrude2 (new body)
    with BuildSketch(Plane.XY.offset(80)):
        with Locations((-371.5, 322)):
            Circle(SKETCH21_R)
    cut_extrude2 = extrude(amount=-CUT_EXTRUDE2_DEPTH)


with BuildPart() as body_10_2:
    add(body_10_1.part)

    # Cut-Extrude2: cut by cut_extrude2_tool
    add(cut_extrude2_tool.part, mode=Mode.SUBTRACT)


with BuildPart() as body_11_2:
    add(body_11_1.part)

    # Cut-Extrude2: cut by cut_extrude2_tool
    add(cut_extrude2_tool.part, mode=Mode.SUBTRACT)


with BuildPart() as lpattern1_tool:
    # LPattern1: Cut-Extrude2 ×3
    with Locations(*[(0, i * LPATTERN1_PITCH, 0) for i in range(1, LPATTERN1_COUNT)]):
        add(cut_extrude2)


with BuildPart() as body_10_3:
    add(body_10_2.part)

    # LPattern1: cut by lpattern1_tool
    add(lpattern1_tool.part, mode=Mode.SUBTRACT)


with BuildPart() as body_11_3:
    add(body_11_2.part)

    # LPattern1: cut by lpattern1_tool
    add(lpattern1_tool.part, mode=Mode.SUBTRACT)


with BuildPart() as body_5_3:
    add(body_5_2.part)

    # Mirror2: Cut-Extrude2 across plane
    add(cut_extrude2.mirror(Plane(origin=(0, 0, 0), x_dir=(0, 0, 1), z_dir=(1, 0, 0))), mode=Mode.SUBTRACT)

    # Mirror2 copy 1 sketch → Mirror2 copy 1 (cut)
    with BuildSketch(Plane(origin=(0, 100, 80), x_dir=(-1, 0, 0), z_dir=(0, 0, 1))):
        with Locations((-371.5, -322)):
            Circle(MIRROR2_COPY_1_SKETCH_R)
    extrude(amount=-MIRROR2_COPY_1_DEPTH, mode=Mode.SUBTRACT)

    # Mirror2 copy 2 sketch → Mirror2 copy 2 (cut)
    with BuildSketch(Plane(origin=(0, 200, 80), x_dir=(-1, 0, 0), z_dir=(0, 0, 1))):
        with Locations((-371.5, -322)):
            Circle(MIRROR2_COPY_2_SKETCH_R)
    extrude(amount=-MIRROR2_COPY_2_DEPTH, mode=Mode.SUBTRACT)


with BuildPart() as body_14:
    # Sketch22 → Boss-Extrude5 (new body)
    with BuildSketch(Plane.XY.offset(-60)):
        Polygon((-436.5, 1072), (-350.176428112, 1072), (-350.176428112, 1062), (-426.5, 1062), (-426.5, 922), (-436.5, 922), align=None)
    boss_extrude5 = extrude(amount=BOSS_EXTRUDE5_DEPTH)


with BuildPart() as body_5_4:
    add(body_5_3.part)

    # Mirror5: Boss-Extrude5 across plane
    add(boss_extrude5.mirror(Plane(origin=(0, 0, 0), x_dir=(0, 0, 1), z_dir=(1, 0, 0))))


solid = Compound([part.part, body_2.part, body_3.part, body_4.part, body_6.part, body_7.part, body_8.part, body_9.part, body_12.part, body_13.part, body_10_3.part, body_11_3.part, body_14.part, body_5_4.part])
